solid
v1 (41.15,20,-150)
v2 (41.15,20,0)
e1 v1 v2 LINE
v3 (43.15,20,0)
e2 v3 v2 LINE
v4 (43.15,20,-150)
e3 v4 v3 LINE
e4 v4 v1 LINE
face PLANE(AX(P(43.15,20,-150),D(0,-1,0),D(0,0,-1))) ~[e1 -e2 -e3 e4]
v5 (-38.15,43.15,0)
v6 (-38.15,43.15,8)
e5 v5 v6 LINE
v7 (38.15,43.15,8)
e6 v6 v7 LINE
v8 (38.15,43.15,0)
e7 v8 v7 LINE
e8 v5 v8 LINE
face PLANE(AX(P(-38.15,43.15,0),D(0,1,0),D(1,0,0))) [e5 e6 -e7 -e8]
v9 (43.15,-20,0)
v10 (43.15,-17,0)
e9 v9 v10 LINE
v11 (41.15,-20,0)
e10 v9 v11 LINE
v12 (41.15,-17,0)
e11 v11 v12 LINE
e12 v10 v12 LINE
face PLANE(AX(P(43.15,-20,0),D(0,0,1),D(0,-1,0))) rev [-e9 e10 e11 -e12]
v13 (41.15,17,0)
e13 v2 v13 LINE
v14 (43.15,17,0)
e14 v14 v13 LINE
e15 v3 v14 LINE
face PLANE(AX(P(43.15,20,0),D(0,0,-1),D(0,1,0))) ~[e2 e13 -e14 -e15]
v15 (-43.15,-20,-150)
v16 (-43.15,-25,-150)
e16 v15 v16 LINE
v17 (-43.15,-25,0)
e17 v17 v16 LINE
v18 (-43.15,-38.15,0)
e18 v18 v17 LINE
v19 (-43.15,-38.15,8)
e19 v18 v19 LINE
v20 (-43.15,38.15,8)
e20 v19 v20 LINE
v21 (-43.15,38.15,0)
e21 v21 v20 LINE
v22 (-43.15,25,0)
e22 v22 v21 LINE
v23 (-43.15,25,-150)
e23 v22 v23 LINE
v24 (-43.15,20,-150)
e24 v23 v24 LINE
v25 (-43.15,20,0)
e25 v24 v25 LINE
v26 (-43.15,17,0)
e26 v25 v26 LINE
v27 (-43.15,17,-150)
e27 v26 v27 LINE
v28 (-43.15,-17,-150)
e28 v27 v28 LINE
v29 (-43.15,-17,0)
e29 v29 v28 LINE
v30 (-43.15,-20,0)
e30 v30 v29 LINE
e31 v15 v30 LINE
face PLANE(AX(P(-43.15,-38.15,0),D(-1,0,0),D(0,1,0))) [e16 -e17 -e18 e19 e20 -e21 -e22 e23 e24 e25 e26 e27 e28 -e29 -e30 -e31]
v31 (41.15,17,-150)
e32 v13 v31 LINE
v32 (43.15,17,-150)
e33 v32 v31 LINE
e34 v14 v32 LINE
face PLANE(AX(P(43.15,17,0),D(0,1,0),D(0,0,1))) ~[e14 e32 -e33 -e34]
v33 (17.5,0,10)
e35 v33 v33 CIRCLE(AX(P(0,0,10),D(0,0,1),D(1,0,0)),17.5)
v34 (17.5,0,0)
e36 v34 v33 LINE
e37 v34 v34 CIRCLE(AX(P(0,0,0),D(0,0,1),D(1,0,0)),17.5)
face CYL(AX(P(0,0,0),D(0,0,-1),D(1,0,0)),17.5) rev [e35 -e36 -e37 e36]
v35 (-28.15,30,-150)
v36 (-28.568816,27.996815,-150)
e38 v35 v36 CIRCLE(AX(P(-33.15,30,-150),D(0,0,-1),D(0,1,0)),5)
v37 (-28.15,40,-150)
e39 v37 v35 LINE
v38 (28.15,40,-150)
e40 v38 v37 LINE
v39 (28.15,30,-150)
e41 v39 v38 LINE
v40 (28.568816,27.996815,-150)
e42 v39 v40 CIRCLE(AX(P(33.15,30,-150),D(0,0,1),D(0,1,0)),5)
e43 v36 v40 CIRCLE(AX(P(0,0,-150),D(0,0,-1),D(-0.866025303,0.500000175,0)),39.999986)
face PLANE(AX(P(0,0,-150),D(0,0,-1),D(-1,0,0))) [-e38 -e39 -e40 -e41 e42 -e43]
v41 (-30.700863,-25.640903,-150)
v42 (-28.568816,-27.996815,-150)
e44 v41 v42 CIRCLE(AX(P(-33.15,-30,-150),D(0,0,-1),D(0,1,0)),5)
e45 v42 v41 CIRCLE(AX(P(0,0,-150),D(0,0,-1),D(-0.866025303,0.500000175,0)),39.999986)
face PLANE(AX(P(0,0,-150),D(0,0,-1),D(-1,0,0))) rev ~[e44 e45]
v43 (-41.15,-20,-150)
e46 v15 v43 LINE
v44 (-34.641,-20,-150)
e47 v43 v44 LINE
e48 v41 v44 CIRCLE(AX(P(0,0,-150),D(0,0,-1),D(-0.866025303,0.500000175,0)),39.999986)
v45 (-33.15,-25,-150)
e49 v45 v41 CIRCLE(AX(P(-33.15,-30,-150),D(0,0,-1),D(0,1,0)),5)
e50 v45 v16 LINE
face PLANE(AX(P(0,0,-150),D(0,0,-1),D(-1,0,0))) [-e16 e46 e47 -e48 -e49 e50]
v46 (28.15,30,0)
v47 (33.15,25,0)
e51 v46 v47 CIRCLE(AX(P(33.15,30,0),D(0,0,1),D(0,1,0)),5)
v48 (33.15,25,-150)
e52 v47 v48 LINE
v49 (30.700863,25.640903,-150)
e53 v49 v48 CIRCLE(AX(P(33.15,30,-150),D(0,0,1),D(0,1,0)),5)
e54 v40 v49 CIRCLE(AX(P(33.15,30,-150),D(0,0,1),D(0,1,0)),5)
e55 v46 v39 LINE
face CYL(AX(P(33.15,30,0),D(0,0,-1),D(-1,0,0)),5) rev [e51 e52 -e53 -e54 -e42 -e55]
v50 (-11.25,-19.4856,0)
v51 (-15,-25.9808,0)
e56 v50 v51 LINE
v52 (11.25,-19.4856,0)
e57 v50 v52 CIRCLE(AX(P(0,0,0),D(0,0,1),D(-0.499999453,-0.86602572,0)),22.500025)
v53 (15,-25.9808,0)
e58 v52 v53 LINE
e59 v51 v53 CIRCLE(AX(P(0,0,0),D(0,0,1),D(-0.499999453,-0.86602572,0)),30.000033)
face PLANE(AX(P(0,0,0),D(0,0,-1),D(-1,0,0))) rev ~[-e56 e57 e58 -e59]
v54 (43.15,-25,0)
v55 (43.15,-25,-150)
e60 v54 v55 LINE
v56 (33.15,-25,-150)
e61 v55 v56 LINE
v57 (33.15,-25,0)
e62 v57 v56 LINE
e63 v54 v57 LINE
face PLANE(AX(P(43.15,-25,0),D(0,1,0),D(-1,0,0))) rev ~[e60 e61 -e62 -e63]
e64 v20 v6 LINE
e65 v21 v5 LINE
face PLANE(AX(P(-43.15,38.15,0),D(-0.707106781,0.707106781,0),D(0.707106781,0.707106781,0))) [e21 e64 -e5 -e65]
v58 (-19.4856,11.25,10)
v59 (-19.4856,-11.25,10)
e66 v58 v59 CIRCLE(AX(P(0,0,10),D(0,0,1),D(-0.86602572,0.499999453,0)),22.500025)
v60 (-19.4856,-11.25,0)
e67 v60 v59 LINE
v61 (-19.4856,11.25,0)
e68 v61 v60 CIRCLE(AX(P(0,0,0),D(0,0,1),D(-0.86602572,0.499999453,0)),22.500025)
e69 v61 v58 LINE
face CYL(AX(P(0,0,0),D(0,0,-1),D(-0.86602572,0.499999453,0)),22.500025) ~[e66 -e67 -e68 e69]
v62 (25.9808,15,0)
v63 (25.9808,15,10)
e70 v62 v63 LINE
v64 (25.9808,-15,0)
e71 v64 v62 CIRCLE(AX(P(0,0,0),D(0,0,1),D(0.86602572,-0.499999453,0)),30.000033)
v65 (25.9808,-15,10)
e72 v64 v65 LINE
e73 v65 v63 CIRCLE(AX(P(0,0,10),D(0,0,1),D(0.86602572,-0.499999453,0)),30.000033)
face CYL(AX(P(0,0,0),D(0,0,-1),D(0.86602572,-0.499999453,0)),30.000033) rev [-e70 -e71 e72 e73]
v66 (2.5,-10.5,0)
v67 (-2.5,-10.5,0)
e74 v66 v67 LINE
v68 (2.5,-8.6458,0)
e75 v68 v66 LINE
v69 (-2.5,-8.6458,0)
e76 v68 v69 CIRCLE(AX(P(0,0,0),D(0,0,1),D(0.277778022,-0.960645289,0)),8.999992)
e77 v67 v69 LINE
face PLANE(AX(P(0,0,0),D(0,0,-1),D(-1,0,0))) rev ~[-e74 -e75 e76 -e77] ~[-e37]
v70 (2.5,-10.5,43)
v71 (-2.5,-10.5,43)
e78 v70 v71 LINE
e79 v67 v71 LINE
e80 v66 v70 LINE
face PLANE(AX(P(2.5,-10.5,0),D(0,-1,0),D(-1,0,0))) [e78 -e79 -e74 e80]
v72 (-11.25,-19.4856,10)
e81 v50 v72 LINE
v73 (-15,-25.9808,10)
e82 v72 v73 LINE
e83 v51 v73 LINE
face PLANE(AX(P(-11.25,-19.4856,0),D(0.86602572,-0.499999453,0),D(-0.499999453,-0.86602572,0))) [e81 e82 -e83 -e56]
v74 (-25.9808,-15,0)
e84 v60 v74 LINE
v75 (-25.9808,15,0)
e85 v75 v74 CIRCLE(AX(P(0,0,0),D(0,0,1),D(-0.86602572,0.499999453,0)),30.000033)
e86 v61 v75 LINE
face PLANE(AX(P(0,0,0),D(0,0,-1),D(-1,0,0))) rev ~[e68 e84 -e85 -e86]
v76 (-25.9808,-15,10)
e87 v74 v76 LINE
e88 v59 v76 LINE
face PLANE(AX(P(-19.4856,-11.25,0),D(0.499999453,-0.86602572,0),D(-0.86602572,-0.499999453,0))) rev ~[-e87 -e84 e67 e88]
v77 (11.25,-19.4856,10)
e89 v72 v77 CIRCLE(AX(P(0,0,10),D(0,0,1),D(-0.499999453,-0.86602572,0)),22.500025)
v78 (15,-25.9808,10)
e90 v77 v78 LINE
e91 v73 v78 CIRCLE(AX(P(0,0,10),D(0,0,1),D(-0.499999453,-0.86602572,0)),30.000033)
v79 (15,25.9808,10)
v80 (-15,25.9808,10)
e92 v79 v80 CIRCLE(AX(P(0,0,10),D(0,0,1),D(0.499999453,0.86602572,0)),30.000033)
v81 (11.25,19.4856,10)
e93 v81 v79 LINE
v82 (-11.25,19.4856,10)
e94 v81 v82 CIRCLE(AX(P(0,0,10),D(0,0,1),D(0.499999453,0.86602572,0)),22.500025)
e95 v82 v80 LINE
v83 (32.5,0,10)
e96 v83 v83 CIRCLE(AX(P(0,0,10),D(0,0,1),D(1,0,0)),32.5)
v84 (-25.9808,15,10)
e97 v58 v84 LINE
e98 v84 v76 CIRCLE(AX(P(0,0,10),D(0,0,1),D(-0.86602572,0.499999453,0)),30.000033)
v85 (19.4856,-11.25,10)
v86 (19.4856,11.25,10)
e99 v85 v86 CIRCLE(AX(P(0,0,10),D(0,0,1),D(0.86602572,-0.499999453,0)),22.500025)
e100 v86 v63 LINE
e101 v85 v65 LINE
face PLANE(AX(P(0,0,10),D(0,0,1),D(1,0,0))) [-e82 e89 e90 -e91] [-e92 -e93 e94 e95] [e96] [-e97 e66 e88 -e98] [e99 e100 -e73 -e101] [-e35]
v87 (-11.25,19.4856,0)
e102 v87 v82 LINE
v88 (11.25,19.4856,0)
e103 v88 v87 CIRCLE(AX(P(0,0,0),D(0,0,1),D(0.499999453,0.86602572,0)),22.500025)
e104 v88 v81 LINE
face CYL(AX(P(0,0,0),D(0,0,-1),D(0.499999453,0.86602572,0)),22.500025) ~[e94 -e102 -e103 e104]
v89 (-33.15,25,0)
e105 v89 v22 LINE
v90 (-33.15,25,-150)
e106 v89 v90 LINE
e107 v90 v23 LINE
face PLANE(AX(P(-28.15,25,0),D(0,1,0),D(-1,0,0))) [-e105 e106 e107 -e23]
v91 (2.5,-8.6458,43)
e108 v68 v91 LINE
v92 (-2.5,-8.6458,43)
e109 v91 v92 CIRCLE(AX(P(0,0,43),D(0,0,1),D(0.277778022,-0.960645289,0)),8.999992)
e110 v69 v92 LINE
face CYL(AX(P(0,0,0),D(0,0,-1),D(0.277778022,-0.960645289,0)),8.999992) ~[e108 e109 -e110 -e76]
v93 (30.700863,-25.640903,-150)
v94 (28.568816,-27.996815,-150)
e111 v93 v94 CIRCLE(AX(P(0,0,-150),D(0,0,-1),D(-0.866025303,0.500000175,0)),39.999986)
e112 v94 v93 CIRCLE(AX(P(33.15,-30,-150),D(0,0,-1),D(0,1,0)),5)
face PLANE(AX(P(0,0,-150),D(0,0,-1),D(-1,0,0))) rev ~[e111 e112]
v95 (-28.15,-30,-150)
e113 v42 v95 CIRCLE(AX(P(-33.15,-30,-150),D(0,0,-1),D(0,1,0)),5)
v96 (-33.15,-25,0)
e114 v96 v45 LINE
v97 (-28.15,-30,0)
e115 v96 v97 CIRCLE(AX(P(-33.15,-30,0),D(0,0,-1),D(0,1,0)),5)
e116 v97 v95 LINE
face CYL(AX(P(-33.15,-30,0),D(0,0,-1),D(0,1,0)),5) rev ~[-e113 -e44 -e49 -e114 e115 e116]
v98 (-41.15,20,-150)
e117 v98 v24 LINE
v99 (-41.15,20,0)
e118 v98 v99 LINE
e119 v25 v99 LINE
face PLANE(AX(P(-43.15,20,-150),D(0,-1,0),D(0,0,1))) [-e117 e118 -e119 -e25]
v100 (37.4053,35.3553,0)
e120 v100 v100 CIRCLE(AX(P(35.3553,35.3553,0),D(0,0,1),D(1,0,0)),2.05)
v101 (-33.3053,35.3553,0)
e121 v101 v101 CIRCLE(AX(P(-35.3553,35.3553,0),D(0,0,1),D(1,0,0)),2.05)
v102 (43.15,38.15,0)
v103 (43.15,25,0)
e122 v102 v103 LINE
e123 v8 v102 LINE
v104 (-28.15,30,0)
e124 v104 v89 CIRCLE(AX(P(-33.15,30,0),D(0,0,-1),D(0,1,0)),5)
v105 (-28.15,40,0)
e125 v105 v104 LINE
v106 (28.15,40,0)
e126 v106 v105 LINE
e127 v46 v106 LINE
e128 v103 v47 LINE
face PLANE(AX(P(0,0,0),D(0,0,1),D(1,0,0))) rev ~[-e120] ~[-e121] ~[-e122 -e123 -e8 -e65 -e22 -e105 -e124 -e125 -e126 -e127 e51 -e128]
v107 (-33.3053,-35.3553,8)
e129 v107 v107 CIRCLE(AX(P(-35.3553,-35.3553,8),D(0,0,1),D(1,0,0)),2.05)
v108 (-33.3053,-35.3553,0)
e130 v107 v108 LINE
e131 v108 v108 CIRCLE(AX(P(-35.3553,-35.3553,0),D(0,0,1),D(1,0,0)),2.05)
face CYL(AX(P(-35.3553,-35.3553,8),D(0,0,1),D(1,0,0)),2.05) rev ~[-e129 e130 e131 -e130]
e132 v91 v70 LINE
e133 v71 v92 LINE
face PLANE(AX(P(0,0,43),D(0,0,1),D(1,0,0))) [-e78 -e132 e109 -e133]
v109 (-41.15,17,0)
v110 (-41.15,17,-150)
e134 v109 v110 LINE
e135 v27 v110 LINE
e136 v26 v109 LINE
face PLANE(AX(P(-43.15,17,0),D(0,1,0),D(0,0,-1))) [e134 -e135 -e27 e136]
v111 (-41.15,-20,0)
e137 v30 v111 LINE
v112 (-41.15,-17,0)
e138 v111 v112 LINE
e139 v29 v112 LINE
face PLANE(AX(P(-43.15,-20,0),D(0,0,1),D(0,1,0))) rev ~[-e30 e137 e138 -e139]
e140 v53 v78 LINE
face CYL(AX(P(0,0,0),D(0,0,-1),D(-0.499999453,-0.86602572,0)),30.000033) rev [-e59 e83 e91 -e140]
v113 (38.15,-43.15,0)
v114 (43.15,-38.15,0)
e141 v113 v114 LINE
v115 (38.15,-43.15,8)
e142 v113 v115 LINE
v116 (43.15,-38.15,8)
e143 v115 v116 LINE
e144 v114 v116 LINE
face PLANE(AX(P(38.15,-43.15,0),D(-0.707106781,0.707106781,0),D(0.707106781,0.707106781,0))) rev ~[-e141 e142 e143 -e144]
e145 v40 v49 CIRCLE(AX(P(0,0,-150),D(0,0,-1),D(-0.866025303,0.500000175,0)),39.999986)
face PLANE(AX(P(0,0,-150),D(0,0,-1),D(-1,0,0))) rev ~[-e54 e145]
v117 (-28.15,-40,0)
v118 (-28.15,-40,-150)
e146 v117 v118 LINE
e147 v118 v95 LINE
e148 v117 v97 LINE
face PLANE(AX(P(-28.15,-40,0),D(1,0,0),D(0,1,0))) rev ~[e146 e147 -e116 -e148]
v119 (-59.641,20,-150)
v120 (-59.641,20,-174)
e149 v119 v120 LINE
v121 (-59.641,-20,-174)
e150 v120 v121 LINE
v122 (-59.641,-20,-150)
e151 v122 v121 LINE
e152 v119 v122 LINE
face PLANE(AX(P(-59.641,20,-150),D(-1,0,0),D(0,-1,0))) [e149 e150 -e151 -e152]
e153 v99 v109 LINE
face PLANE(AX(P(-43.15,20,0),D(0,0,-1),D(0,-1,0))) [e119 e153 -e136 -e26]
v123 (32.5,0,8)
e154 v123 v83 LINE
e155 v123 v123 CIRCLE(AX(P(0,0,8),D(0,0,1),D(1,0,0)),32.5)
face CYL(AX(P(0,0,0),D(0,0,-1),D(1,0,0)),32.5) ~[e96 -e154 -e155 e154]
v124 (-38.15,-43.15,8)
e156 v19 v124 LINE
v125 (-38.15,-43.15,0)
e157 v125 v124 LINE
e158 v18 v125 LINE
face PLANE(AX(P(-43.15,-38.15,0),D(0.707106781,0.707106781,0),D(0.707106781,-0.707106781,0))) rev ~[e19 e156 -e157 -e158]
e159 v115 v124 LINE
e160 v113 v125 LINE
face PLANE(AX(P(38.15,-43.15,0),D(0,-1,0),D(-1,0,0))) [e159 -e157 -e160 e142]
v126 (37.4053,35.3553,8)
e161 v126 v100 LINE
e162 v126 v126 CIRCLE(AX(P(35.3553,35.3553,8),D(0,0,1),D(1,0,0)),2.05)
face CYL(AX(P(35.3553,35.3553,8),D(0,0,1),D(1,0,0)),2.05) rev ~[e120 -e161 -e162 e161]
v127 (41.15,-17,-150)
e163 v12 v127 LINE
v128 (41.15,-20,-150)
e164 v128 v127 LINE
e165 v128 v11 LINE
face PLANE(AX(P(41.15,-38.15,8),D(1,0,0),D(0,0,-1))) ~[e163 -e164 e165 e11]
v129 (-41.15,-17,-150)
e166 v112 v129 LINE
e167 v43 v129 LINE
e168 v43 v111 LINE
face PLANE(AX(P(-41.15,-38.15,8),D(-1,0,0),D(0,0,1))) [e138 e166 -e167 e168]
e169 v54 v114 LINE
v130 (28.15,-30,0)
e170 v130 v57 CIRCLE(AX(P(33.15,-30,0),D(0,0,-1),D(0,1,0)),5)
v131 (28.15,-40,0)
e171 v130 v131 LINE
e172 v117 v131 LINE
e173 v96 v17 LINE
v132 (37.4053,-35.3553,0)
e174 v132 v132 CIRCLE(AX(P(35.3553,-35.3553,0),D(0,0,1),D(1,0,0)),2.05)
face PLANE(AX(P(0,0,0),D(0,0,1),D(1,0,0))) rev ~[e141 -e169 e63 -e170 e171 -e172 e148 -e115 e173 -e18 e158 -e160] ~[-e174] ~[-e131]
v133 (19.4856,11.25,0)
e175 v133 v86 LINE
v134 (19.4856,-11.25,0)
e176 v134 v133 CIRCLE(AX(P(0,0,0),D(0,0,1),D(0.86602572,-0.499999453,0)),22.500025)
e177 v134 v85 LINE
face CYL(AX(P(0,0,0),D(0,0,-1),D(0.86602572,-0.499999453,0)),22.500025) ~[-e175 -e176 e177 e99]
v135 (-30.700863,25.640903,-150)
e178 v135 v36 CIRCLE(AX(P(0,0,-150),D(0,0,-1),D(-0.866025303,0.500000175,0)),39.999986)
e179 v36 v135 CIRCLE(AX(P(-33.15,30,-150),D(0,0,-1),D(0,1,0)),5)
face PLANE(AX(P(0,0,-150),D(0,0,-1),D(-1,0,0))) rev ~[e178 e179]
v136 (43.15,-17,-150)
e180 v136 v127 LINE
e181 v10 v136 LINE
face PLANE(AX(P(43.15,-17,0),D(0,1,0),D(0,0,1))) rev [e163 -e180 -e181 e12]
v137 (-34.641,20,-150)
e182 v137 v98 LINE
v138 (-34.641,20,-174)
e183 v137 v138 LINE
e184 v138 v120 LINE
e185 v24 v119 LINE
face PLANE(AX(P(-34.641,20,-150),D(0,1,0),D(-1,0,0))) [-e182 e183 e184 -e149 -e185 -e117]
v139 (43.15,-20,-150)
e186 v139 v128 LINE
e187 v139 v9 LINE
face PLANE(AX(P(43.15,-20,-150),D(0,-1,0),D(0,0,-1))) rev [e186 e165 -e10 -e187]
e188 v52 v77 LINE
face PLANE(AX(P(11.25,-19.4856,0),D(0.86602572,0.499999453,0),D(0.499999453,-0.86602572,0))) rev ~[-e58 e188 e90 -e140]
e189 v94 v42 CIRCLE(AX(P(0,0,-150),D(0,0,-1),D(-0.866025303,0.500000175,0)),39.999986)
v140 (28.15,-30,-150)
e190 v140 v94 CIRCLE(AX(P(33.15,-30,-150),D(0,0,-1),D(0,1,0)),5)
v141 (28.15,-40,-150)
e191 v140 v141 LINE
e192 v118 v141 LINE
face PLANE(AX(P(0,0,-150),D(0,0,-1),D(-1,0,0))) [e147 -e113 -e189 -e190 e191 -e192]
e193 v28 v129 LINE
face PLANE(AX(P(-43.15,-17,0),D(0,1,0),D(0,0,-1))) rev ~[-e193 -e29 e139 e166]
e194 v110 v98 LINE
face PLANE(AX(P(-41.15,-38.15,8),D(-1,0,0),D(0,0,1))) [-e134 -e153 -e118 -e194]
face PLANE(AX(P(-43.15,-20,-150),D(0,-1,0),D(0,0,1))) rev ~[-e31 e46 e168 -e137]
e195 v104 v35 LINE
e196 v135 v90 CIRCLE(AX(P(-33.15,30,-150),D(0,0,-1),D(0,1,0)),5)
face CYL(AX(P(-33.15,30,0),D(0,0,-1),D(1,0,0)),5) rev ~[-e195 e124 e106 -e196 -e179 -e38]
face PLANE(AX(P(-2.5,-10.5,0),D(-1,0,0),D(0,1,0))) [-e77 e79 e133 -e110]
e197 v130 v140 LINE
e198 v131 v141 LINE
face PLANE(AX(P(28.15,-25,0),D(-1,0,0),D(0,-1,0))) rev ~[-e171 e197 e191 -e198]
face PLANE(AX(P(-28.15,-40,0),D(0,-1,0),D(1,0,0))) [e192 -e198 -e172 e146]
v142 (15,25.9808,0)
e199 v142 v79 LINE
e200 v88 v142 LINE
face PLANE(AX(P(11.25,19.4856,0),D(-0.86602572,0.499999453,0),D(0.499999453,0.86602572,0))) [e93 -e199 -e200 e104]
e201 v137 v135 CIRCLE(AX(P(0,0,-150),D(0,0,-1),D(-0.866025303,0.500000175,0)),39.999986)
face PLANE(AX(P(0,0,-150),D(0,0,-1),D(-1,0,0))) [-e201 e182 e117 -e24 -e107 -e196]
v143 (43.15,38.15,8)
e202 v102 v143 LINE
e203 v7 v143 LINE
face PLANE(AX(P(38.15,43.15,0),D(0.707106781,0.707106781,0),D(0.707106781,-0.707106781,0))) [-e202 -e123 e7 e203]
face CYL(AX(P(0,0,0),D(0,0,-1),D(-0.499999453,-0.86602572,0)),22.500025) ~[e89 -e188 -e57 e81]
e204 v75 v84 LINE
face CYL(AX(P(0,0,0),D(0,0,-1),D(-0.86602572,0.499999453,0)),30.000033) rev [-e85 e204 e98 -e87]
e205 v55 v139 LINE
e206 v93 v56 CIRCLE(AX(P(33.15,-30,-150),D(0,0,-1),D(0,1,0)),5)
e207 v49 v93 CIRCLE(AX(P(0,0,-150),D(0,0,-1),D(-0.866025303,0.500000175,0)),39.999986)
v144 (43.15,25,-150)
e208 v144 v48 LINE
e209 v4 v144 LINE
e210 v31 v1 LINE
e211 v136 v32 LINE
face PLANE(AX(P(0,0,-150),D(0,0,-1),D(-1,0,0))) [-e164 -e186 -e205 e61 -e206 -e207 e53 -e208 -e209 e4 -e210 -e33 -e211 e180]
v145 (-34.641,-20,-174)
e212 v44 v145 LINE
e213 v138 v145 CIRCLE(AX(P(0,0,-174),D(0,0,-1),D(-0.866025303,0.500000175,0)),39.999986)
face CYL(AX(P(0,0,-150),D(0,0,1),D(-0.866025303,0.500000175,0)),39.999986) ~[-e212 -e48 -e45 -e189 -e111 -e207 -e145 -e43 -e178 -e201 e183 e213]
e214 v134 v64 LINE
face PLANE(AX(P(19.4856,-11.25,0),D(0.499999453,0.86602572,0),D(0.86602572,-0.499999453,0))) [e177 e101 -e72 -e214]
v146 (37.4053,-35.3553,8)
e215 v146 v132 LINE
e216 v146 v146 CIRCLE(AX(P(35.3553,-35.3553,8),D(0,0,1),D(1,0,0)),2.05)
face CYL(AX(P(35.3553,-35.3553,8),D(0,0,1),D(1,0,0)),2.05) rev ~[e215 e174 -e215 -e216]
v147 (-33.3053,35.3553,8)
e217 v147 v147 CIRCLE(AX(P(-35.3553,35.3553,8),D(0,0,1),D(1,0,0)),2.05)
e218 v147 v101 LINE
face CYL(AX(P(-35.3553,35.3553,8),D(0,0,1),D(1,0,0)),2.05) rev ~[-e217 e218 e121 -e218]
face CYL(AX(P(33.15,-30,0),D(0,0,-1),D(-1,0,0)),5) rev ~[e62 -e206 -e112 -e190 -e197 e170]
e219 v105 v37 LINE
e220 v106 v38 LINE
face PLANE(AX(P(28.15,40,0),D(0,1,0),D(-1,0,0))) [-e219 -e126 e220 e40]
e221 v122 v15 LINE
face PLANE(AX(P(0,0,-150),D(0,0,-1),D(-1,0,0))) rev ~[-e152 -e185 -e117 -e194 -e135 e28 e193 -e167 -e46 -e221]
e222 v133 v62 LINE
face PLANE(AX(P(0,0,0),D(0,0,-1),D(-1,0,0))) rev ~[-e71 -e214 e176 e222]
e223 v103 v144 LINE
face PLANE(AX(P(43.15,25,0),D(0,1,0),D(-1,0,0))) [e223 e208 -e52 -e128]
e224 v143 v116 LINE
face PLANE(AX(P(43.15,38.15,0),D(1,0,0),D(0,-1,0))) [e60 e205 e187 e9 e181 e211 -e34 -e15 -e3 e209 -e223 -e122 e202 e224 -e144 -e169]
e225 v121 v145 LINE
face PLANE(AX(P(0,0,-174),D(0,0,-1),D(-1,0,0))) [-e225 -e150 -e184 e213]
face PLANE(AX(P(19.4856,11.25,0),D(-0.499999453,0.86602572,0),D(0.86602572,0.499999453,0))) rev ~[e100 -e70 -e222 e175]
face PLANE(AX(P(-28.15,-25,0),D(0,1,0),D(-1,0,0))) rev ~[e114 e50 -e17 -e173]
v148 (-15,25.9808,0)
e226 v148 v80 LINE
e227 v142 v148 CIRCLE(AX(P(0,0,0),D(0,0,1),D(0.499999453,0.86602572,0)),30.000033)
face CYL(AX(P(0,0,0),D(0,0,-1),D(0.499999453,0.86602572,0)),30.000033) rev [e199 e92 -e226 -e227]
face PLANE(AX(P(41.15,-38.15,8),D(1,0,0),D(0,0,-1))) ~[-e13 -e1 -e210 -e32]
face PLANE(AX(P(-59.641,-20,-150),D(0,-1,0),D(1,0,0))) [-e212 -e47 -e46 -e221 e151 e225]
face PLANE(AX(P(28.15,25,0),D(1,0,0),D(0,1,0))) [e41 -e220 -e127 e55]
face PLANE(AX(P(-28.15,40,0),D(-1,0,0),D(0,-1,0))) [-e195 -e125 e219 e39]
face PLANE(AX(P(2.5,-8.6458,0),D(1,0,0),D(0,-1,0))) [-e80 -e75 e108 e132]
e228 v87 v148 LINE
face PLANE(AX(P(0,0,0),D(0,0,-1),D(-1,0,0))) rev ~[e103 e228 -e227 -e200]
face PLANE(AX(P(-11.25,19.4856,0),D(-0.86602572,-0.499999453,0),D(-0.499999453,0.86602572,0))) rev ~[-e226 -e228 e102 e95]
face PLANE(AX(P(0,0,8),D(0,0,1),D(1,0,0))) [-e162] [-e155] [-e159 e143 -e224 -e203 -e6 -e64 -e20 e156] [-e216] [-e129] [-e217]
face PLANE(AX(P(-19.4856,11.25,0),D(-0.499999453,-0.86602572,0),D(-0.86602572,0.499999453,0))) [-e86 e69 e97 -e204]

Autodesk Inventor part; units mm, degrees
ref_plane "YZ Plane" through (0, 0, 0) normal (1, 0, 0) x (0, 1, 0)
ref_plane "XZ Plane" through (0, 0, 0) normal (0, 1, 0) x (-1, 0, 0)
ref_plane "XY Plane" through (0, 0, 0) normal (0, 0, 1) x (1, 0, 0)
sketch "Sketch1" plane through (0, 0, 0) normal (0, 0, 1) x (1, 0, 0)
  line L0 (-38.15, 43.15) -> (38.15, 43.15)
  line L1 (43.15, 38.15) -> (43.15, -38.15)
  line L2 (38.15, -43.15) -> (-38.15, -43.15)
  line L3 (-43.15, -38.15) -> (-43.15, 38.15)
  circle A0 centre (0, 0) radius 32.5
  line L4 (-43.15, 38.15) -> (-38.15, 43.15)
  line L5 (38.15, 43.15) -> (43.15, 38.15)
  line L6 (-43.15, -38.15) -> (-38.15, -43.15)
  line L7 (38.15, -43.15) -> (43.15, -38.15)
  point P0 (-43.15, 43.15)
  point P1 (43.15, -43.15)
  point P2 (43.15, 43.15)
  point P3 (-43.15, -43.15)
  point P4 (-43.15, 0)
  dimension "d0" = 86.3
  dimension "d1" = 86.3
  dimension "d2" = 65
  dimension "d3" = 5
  dimension "d4" = 5
  dimension "d5" = 5
  dimension "d6" = 5
  dimension "d7" = 5
  dimension "d8" = 5
  dimension "d9" = 5
  dimension "d10" = 5
extrude "Extrusion1" add sketch "Sketch1" along normal blind 8
sketch "Sketch2" plane through (0, 0, 0) normal (0, 0, 1) x (1, 0, 0)
  circle A0 centre (0, 0) radius 32.5
  line L0 (11.25, 19.4856) -> (15, 25.9808)
  line L1 (0, 0) -> (30, 0) construction
  line L2 (-11.25, 19.4856) -> (-15, 25.9808)
  line L3 (0, 0) -> (30, 0) construction
  line L4 (-19.4856, -11.25) -> (-25.9808, -15)
  line L5 (-19.4856, 11.25) -> (-25.9808, 15)
  line L6 (11.25, -19.4856) -> (15, -25.9808)
  line L7 (-11.25, -19.4856) -> (-15, -25.9808)
  line L8 (19.4856, 11.25) -> (25.9808, 15)
  line L9 (19.4856, -11.25) -> (25.9808, -15)
  arc A1 (15, 25.9808) -> (-15, 25.9808) centre (0, 0) ccw
  arc A2 (25.9808, -15) -> (25.9808, 15) centre (0, 0) ccw
  arc A3 (-25.9808, 15) -> (-25.9808, -15) centre (0, 0) ccw
  arc A4 (-15, -25.9808) -> (15, -25.9808) centre (0, 0) ccw
  circle A5 centre (0, 0) radius 17.5
  arc A6 (-19.4856, 11.25) -> (-19.4856, -11.25) centre (0, 0) ccw
  arc A7 (-11.25, -19.4856) -> (11.25, -19.4856) centre (0, 0) ccw
  arc A8 (19.4856, -11.25) -> (19.4856, 11.25) centre (0, 0) ccw
  arc A9 (11.25, 19.4856) -> (-11.25, 19.4856) centre (0, 0) ccw
  dimension "d15" = 60
  dimension "d16" = 120
  dimension "d19" = 360
  dimension "d21" = 35
extrude "Extrusion2" add sketch "Sketch2" along normal blind 10
sketch "Sketch3" plane through (0, 0, 0) normal (0, 0, -1) x (-1, 0, 0)
  line L0 (-28.15, 40) -> (28.15, 40)
  line L1 (43.15, 25) -> (43.15, -25)
  line L2 (28.15, -40) -> (-28.15, -40)
  line L3 (-43.15, -25) -> (-43.15, 25)
  line L4 (-43.15, 40) -> (43.15, -40) construction
  line L5 (43.15, 40) -> (-43.15, -40) construction
  line L6 (-43.15, 25) -> (-28.15, 25)
  line L7 (-28.15, 25) -> (-28.15, 40)
  line L8 (28.15, 40) -> (28.15, 25)
  line L9 (28.15, 25) -> (43.15, 25)
  line L10 (-11.6946, 0) -> (10.241, 0) construction
  line L11 (-43.15, -25) -> (-28.15, -25)
  line L12 (-28.15, -25) -> (-28.15, -40)
  line L13 (28.15, -40) -> (28.15, -25)
  line L14 (28.15, -25) -> (43.15, -25)
  point P0 (0, 0)
extrude "Extrusion3" add sketch "Sketch3" along normal blind 150
fillet "Fillet1" radius 5 4 edges at (28.15, 25, -75) (-28.15, 25, -75) (-28.15, -25, -75) (28.15, -25, -75)
sketch "Sketch4" plane through (0, 0, -150) normal (0, 0, -1) x (-1, 0, 0)
  arc A0 (34.641, 20) -> (34.641, -20) centre (0, 0) ccw
  line L0 (34.641, 20) -> (59.641, 20)
  line L1 (59.641, 20) -> (59.641, -20)
  line L2 (59.641, -20) -> (34.641, -20)
  dimension "d34" = 25
  dimension "d35" = 40
extrude "Extrusion4" add sketch "Sketch4" along normal blind 24
sketch "Sketch5" plane through (-43.15, -38.15, 8) normal (-1, 0, 0) x (0, 0, 1)
  line L0 (-158, 12.5091) -> (-158, 63.7909) projected
  line L1 (-158, 18.15) -> (-8, 18.15)
  line L2 (-8, 18.15) -> (-8, 21.15)
  line L3 (-8, 21.15) -> (-158, 21.15)
  line L4 (-158, 21.15) -> (-158, 18.15)
  line L5 (-8, 13.15) -> (-158, 13.15) projected
  line L6 (-158, 58.15) -> (-8, 58.15)
  line L7 (-8, 58.15) -> (-8, 55.15)
  line L8 (-8, 55.15) -> (-158, 55.15)
  line L9 (-158, 55.15) -> (-158, 58.15)
  line L10 (-8, 63.15) -> (-158, 63.15) projected
  point P0 (-8, 38.15)
  dimension "d38" = 3
  dimension "d39" = 5
  dimension "d40" = 3
  dimension "d41" = 5
extrude "Extrusion5" cut sketch "Sketch5" against normal blind 2
mirror "Mirror1" about plane through (0, 0, 0) normal (1, 0, 0) of "Extrusion5"
sketch "Sketch6" plane through (0, 0, 0) normal (0, 0, 1) x (1, 0, 0)
  arc A0 (2.5, -8.6458) -> (-2.5, -8.6458) centre (0, 0) ccw
  line L0 (0, -9) -> (0, -8) construction
  line L1 (0, -8) -> (-2.5, -8) construction
  line L2 (-2.5, -8) -> (0, -8) construction
  line L3 (2.5, -8) -> (2.5, -10.5)
  line L4 (2.5, -10.5) -> (-2.5, -10.5)
  line L5 (-2.5, -10.5) -> (-2.5, -8)
  dimension "d44" = 18
  dimension "d45" = 1
  dimension "d46" = 2.5
  dimension "d47" = 5
  dimension "d48" = 2.5
extrude "Extrusion6" add sketch "Sketch6" along normal blind 43
sketch "Sketch7" plane through (0, 0, 8) normal (0, 0, 1) x (1, 0, 0)
  circle A0 centre (0, 0) radius 50 construction
  line L0 (-43.15, -43.15) -> (43.15, -43.15) construction
  line L1 (43.15, -43.15) -> (43.15, 43.15) construction
  line L2 (43.15, 43.15) -> (-43.15, 43.15) construction
  line L3 (-43.15, 43.15) -> (-43.15, -43.15) construction
  line L4 (-43.15, -43.15) -> (43.15, 43.15) construction
  line L5 (43.15, -43.15) -> (-43.15, 43.15) construction
  circle A1 centre (35.3553, 35.3553) radius 2.05
  circle A2 centre (35.3553, -35.3553) radius 2.05
  circle A3 centre (-35.3553, 35.3553) radius 2.05
  circle A4 centre (-35.3553, -35.3553) radius 2.05
  dimension "d51" = 100
  dimension "d52" = 4.1
  dimension "d53" = 4.1
  dimension "d54" = 4.1
  dimension "d55" = 4.1
extrude "Extrusion7" cut sketch "Sketch7" against normal up to surface (8 mm away)
equation "\"d4\" = d3"
equation "\"d5\" = d3"
equation "\"d6\" = d5"
equation "\"d7\" = d3"
equation "\"d8\" = d7"
equation "\"d9\" = d3"
equation "\"d10\" = d9"
equation "\"d56\" = d52"
properties part number "SERVOMOTOR-1KW"
